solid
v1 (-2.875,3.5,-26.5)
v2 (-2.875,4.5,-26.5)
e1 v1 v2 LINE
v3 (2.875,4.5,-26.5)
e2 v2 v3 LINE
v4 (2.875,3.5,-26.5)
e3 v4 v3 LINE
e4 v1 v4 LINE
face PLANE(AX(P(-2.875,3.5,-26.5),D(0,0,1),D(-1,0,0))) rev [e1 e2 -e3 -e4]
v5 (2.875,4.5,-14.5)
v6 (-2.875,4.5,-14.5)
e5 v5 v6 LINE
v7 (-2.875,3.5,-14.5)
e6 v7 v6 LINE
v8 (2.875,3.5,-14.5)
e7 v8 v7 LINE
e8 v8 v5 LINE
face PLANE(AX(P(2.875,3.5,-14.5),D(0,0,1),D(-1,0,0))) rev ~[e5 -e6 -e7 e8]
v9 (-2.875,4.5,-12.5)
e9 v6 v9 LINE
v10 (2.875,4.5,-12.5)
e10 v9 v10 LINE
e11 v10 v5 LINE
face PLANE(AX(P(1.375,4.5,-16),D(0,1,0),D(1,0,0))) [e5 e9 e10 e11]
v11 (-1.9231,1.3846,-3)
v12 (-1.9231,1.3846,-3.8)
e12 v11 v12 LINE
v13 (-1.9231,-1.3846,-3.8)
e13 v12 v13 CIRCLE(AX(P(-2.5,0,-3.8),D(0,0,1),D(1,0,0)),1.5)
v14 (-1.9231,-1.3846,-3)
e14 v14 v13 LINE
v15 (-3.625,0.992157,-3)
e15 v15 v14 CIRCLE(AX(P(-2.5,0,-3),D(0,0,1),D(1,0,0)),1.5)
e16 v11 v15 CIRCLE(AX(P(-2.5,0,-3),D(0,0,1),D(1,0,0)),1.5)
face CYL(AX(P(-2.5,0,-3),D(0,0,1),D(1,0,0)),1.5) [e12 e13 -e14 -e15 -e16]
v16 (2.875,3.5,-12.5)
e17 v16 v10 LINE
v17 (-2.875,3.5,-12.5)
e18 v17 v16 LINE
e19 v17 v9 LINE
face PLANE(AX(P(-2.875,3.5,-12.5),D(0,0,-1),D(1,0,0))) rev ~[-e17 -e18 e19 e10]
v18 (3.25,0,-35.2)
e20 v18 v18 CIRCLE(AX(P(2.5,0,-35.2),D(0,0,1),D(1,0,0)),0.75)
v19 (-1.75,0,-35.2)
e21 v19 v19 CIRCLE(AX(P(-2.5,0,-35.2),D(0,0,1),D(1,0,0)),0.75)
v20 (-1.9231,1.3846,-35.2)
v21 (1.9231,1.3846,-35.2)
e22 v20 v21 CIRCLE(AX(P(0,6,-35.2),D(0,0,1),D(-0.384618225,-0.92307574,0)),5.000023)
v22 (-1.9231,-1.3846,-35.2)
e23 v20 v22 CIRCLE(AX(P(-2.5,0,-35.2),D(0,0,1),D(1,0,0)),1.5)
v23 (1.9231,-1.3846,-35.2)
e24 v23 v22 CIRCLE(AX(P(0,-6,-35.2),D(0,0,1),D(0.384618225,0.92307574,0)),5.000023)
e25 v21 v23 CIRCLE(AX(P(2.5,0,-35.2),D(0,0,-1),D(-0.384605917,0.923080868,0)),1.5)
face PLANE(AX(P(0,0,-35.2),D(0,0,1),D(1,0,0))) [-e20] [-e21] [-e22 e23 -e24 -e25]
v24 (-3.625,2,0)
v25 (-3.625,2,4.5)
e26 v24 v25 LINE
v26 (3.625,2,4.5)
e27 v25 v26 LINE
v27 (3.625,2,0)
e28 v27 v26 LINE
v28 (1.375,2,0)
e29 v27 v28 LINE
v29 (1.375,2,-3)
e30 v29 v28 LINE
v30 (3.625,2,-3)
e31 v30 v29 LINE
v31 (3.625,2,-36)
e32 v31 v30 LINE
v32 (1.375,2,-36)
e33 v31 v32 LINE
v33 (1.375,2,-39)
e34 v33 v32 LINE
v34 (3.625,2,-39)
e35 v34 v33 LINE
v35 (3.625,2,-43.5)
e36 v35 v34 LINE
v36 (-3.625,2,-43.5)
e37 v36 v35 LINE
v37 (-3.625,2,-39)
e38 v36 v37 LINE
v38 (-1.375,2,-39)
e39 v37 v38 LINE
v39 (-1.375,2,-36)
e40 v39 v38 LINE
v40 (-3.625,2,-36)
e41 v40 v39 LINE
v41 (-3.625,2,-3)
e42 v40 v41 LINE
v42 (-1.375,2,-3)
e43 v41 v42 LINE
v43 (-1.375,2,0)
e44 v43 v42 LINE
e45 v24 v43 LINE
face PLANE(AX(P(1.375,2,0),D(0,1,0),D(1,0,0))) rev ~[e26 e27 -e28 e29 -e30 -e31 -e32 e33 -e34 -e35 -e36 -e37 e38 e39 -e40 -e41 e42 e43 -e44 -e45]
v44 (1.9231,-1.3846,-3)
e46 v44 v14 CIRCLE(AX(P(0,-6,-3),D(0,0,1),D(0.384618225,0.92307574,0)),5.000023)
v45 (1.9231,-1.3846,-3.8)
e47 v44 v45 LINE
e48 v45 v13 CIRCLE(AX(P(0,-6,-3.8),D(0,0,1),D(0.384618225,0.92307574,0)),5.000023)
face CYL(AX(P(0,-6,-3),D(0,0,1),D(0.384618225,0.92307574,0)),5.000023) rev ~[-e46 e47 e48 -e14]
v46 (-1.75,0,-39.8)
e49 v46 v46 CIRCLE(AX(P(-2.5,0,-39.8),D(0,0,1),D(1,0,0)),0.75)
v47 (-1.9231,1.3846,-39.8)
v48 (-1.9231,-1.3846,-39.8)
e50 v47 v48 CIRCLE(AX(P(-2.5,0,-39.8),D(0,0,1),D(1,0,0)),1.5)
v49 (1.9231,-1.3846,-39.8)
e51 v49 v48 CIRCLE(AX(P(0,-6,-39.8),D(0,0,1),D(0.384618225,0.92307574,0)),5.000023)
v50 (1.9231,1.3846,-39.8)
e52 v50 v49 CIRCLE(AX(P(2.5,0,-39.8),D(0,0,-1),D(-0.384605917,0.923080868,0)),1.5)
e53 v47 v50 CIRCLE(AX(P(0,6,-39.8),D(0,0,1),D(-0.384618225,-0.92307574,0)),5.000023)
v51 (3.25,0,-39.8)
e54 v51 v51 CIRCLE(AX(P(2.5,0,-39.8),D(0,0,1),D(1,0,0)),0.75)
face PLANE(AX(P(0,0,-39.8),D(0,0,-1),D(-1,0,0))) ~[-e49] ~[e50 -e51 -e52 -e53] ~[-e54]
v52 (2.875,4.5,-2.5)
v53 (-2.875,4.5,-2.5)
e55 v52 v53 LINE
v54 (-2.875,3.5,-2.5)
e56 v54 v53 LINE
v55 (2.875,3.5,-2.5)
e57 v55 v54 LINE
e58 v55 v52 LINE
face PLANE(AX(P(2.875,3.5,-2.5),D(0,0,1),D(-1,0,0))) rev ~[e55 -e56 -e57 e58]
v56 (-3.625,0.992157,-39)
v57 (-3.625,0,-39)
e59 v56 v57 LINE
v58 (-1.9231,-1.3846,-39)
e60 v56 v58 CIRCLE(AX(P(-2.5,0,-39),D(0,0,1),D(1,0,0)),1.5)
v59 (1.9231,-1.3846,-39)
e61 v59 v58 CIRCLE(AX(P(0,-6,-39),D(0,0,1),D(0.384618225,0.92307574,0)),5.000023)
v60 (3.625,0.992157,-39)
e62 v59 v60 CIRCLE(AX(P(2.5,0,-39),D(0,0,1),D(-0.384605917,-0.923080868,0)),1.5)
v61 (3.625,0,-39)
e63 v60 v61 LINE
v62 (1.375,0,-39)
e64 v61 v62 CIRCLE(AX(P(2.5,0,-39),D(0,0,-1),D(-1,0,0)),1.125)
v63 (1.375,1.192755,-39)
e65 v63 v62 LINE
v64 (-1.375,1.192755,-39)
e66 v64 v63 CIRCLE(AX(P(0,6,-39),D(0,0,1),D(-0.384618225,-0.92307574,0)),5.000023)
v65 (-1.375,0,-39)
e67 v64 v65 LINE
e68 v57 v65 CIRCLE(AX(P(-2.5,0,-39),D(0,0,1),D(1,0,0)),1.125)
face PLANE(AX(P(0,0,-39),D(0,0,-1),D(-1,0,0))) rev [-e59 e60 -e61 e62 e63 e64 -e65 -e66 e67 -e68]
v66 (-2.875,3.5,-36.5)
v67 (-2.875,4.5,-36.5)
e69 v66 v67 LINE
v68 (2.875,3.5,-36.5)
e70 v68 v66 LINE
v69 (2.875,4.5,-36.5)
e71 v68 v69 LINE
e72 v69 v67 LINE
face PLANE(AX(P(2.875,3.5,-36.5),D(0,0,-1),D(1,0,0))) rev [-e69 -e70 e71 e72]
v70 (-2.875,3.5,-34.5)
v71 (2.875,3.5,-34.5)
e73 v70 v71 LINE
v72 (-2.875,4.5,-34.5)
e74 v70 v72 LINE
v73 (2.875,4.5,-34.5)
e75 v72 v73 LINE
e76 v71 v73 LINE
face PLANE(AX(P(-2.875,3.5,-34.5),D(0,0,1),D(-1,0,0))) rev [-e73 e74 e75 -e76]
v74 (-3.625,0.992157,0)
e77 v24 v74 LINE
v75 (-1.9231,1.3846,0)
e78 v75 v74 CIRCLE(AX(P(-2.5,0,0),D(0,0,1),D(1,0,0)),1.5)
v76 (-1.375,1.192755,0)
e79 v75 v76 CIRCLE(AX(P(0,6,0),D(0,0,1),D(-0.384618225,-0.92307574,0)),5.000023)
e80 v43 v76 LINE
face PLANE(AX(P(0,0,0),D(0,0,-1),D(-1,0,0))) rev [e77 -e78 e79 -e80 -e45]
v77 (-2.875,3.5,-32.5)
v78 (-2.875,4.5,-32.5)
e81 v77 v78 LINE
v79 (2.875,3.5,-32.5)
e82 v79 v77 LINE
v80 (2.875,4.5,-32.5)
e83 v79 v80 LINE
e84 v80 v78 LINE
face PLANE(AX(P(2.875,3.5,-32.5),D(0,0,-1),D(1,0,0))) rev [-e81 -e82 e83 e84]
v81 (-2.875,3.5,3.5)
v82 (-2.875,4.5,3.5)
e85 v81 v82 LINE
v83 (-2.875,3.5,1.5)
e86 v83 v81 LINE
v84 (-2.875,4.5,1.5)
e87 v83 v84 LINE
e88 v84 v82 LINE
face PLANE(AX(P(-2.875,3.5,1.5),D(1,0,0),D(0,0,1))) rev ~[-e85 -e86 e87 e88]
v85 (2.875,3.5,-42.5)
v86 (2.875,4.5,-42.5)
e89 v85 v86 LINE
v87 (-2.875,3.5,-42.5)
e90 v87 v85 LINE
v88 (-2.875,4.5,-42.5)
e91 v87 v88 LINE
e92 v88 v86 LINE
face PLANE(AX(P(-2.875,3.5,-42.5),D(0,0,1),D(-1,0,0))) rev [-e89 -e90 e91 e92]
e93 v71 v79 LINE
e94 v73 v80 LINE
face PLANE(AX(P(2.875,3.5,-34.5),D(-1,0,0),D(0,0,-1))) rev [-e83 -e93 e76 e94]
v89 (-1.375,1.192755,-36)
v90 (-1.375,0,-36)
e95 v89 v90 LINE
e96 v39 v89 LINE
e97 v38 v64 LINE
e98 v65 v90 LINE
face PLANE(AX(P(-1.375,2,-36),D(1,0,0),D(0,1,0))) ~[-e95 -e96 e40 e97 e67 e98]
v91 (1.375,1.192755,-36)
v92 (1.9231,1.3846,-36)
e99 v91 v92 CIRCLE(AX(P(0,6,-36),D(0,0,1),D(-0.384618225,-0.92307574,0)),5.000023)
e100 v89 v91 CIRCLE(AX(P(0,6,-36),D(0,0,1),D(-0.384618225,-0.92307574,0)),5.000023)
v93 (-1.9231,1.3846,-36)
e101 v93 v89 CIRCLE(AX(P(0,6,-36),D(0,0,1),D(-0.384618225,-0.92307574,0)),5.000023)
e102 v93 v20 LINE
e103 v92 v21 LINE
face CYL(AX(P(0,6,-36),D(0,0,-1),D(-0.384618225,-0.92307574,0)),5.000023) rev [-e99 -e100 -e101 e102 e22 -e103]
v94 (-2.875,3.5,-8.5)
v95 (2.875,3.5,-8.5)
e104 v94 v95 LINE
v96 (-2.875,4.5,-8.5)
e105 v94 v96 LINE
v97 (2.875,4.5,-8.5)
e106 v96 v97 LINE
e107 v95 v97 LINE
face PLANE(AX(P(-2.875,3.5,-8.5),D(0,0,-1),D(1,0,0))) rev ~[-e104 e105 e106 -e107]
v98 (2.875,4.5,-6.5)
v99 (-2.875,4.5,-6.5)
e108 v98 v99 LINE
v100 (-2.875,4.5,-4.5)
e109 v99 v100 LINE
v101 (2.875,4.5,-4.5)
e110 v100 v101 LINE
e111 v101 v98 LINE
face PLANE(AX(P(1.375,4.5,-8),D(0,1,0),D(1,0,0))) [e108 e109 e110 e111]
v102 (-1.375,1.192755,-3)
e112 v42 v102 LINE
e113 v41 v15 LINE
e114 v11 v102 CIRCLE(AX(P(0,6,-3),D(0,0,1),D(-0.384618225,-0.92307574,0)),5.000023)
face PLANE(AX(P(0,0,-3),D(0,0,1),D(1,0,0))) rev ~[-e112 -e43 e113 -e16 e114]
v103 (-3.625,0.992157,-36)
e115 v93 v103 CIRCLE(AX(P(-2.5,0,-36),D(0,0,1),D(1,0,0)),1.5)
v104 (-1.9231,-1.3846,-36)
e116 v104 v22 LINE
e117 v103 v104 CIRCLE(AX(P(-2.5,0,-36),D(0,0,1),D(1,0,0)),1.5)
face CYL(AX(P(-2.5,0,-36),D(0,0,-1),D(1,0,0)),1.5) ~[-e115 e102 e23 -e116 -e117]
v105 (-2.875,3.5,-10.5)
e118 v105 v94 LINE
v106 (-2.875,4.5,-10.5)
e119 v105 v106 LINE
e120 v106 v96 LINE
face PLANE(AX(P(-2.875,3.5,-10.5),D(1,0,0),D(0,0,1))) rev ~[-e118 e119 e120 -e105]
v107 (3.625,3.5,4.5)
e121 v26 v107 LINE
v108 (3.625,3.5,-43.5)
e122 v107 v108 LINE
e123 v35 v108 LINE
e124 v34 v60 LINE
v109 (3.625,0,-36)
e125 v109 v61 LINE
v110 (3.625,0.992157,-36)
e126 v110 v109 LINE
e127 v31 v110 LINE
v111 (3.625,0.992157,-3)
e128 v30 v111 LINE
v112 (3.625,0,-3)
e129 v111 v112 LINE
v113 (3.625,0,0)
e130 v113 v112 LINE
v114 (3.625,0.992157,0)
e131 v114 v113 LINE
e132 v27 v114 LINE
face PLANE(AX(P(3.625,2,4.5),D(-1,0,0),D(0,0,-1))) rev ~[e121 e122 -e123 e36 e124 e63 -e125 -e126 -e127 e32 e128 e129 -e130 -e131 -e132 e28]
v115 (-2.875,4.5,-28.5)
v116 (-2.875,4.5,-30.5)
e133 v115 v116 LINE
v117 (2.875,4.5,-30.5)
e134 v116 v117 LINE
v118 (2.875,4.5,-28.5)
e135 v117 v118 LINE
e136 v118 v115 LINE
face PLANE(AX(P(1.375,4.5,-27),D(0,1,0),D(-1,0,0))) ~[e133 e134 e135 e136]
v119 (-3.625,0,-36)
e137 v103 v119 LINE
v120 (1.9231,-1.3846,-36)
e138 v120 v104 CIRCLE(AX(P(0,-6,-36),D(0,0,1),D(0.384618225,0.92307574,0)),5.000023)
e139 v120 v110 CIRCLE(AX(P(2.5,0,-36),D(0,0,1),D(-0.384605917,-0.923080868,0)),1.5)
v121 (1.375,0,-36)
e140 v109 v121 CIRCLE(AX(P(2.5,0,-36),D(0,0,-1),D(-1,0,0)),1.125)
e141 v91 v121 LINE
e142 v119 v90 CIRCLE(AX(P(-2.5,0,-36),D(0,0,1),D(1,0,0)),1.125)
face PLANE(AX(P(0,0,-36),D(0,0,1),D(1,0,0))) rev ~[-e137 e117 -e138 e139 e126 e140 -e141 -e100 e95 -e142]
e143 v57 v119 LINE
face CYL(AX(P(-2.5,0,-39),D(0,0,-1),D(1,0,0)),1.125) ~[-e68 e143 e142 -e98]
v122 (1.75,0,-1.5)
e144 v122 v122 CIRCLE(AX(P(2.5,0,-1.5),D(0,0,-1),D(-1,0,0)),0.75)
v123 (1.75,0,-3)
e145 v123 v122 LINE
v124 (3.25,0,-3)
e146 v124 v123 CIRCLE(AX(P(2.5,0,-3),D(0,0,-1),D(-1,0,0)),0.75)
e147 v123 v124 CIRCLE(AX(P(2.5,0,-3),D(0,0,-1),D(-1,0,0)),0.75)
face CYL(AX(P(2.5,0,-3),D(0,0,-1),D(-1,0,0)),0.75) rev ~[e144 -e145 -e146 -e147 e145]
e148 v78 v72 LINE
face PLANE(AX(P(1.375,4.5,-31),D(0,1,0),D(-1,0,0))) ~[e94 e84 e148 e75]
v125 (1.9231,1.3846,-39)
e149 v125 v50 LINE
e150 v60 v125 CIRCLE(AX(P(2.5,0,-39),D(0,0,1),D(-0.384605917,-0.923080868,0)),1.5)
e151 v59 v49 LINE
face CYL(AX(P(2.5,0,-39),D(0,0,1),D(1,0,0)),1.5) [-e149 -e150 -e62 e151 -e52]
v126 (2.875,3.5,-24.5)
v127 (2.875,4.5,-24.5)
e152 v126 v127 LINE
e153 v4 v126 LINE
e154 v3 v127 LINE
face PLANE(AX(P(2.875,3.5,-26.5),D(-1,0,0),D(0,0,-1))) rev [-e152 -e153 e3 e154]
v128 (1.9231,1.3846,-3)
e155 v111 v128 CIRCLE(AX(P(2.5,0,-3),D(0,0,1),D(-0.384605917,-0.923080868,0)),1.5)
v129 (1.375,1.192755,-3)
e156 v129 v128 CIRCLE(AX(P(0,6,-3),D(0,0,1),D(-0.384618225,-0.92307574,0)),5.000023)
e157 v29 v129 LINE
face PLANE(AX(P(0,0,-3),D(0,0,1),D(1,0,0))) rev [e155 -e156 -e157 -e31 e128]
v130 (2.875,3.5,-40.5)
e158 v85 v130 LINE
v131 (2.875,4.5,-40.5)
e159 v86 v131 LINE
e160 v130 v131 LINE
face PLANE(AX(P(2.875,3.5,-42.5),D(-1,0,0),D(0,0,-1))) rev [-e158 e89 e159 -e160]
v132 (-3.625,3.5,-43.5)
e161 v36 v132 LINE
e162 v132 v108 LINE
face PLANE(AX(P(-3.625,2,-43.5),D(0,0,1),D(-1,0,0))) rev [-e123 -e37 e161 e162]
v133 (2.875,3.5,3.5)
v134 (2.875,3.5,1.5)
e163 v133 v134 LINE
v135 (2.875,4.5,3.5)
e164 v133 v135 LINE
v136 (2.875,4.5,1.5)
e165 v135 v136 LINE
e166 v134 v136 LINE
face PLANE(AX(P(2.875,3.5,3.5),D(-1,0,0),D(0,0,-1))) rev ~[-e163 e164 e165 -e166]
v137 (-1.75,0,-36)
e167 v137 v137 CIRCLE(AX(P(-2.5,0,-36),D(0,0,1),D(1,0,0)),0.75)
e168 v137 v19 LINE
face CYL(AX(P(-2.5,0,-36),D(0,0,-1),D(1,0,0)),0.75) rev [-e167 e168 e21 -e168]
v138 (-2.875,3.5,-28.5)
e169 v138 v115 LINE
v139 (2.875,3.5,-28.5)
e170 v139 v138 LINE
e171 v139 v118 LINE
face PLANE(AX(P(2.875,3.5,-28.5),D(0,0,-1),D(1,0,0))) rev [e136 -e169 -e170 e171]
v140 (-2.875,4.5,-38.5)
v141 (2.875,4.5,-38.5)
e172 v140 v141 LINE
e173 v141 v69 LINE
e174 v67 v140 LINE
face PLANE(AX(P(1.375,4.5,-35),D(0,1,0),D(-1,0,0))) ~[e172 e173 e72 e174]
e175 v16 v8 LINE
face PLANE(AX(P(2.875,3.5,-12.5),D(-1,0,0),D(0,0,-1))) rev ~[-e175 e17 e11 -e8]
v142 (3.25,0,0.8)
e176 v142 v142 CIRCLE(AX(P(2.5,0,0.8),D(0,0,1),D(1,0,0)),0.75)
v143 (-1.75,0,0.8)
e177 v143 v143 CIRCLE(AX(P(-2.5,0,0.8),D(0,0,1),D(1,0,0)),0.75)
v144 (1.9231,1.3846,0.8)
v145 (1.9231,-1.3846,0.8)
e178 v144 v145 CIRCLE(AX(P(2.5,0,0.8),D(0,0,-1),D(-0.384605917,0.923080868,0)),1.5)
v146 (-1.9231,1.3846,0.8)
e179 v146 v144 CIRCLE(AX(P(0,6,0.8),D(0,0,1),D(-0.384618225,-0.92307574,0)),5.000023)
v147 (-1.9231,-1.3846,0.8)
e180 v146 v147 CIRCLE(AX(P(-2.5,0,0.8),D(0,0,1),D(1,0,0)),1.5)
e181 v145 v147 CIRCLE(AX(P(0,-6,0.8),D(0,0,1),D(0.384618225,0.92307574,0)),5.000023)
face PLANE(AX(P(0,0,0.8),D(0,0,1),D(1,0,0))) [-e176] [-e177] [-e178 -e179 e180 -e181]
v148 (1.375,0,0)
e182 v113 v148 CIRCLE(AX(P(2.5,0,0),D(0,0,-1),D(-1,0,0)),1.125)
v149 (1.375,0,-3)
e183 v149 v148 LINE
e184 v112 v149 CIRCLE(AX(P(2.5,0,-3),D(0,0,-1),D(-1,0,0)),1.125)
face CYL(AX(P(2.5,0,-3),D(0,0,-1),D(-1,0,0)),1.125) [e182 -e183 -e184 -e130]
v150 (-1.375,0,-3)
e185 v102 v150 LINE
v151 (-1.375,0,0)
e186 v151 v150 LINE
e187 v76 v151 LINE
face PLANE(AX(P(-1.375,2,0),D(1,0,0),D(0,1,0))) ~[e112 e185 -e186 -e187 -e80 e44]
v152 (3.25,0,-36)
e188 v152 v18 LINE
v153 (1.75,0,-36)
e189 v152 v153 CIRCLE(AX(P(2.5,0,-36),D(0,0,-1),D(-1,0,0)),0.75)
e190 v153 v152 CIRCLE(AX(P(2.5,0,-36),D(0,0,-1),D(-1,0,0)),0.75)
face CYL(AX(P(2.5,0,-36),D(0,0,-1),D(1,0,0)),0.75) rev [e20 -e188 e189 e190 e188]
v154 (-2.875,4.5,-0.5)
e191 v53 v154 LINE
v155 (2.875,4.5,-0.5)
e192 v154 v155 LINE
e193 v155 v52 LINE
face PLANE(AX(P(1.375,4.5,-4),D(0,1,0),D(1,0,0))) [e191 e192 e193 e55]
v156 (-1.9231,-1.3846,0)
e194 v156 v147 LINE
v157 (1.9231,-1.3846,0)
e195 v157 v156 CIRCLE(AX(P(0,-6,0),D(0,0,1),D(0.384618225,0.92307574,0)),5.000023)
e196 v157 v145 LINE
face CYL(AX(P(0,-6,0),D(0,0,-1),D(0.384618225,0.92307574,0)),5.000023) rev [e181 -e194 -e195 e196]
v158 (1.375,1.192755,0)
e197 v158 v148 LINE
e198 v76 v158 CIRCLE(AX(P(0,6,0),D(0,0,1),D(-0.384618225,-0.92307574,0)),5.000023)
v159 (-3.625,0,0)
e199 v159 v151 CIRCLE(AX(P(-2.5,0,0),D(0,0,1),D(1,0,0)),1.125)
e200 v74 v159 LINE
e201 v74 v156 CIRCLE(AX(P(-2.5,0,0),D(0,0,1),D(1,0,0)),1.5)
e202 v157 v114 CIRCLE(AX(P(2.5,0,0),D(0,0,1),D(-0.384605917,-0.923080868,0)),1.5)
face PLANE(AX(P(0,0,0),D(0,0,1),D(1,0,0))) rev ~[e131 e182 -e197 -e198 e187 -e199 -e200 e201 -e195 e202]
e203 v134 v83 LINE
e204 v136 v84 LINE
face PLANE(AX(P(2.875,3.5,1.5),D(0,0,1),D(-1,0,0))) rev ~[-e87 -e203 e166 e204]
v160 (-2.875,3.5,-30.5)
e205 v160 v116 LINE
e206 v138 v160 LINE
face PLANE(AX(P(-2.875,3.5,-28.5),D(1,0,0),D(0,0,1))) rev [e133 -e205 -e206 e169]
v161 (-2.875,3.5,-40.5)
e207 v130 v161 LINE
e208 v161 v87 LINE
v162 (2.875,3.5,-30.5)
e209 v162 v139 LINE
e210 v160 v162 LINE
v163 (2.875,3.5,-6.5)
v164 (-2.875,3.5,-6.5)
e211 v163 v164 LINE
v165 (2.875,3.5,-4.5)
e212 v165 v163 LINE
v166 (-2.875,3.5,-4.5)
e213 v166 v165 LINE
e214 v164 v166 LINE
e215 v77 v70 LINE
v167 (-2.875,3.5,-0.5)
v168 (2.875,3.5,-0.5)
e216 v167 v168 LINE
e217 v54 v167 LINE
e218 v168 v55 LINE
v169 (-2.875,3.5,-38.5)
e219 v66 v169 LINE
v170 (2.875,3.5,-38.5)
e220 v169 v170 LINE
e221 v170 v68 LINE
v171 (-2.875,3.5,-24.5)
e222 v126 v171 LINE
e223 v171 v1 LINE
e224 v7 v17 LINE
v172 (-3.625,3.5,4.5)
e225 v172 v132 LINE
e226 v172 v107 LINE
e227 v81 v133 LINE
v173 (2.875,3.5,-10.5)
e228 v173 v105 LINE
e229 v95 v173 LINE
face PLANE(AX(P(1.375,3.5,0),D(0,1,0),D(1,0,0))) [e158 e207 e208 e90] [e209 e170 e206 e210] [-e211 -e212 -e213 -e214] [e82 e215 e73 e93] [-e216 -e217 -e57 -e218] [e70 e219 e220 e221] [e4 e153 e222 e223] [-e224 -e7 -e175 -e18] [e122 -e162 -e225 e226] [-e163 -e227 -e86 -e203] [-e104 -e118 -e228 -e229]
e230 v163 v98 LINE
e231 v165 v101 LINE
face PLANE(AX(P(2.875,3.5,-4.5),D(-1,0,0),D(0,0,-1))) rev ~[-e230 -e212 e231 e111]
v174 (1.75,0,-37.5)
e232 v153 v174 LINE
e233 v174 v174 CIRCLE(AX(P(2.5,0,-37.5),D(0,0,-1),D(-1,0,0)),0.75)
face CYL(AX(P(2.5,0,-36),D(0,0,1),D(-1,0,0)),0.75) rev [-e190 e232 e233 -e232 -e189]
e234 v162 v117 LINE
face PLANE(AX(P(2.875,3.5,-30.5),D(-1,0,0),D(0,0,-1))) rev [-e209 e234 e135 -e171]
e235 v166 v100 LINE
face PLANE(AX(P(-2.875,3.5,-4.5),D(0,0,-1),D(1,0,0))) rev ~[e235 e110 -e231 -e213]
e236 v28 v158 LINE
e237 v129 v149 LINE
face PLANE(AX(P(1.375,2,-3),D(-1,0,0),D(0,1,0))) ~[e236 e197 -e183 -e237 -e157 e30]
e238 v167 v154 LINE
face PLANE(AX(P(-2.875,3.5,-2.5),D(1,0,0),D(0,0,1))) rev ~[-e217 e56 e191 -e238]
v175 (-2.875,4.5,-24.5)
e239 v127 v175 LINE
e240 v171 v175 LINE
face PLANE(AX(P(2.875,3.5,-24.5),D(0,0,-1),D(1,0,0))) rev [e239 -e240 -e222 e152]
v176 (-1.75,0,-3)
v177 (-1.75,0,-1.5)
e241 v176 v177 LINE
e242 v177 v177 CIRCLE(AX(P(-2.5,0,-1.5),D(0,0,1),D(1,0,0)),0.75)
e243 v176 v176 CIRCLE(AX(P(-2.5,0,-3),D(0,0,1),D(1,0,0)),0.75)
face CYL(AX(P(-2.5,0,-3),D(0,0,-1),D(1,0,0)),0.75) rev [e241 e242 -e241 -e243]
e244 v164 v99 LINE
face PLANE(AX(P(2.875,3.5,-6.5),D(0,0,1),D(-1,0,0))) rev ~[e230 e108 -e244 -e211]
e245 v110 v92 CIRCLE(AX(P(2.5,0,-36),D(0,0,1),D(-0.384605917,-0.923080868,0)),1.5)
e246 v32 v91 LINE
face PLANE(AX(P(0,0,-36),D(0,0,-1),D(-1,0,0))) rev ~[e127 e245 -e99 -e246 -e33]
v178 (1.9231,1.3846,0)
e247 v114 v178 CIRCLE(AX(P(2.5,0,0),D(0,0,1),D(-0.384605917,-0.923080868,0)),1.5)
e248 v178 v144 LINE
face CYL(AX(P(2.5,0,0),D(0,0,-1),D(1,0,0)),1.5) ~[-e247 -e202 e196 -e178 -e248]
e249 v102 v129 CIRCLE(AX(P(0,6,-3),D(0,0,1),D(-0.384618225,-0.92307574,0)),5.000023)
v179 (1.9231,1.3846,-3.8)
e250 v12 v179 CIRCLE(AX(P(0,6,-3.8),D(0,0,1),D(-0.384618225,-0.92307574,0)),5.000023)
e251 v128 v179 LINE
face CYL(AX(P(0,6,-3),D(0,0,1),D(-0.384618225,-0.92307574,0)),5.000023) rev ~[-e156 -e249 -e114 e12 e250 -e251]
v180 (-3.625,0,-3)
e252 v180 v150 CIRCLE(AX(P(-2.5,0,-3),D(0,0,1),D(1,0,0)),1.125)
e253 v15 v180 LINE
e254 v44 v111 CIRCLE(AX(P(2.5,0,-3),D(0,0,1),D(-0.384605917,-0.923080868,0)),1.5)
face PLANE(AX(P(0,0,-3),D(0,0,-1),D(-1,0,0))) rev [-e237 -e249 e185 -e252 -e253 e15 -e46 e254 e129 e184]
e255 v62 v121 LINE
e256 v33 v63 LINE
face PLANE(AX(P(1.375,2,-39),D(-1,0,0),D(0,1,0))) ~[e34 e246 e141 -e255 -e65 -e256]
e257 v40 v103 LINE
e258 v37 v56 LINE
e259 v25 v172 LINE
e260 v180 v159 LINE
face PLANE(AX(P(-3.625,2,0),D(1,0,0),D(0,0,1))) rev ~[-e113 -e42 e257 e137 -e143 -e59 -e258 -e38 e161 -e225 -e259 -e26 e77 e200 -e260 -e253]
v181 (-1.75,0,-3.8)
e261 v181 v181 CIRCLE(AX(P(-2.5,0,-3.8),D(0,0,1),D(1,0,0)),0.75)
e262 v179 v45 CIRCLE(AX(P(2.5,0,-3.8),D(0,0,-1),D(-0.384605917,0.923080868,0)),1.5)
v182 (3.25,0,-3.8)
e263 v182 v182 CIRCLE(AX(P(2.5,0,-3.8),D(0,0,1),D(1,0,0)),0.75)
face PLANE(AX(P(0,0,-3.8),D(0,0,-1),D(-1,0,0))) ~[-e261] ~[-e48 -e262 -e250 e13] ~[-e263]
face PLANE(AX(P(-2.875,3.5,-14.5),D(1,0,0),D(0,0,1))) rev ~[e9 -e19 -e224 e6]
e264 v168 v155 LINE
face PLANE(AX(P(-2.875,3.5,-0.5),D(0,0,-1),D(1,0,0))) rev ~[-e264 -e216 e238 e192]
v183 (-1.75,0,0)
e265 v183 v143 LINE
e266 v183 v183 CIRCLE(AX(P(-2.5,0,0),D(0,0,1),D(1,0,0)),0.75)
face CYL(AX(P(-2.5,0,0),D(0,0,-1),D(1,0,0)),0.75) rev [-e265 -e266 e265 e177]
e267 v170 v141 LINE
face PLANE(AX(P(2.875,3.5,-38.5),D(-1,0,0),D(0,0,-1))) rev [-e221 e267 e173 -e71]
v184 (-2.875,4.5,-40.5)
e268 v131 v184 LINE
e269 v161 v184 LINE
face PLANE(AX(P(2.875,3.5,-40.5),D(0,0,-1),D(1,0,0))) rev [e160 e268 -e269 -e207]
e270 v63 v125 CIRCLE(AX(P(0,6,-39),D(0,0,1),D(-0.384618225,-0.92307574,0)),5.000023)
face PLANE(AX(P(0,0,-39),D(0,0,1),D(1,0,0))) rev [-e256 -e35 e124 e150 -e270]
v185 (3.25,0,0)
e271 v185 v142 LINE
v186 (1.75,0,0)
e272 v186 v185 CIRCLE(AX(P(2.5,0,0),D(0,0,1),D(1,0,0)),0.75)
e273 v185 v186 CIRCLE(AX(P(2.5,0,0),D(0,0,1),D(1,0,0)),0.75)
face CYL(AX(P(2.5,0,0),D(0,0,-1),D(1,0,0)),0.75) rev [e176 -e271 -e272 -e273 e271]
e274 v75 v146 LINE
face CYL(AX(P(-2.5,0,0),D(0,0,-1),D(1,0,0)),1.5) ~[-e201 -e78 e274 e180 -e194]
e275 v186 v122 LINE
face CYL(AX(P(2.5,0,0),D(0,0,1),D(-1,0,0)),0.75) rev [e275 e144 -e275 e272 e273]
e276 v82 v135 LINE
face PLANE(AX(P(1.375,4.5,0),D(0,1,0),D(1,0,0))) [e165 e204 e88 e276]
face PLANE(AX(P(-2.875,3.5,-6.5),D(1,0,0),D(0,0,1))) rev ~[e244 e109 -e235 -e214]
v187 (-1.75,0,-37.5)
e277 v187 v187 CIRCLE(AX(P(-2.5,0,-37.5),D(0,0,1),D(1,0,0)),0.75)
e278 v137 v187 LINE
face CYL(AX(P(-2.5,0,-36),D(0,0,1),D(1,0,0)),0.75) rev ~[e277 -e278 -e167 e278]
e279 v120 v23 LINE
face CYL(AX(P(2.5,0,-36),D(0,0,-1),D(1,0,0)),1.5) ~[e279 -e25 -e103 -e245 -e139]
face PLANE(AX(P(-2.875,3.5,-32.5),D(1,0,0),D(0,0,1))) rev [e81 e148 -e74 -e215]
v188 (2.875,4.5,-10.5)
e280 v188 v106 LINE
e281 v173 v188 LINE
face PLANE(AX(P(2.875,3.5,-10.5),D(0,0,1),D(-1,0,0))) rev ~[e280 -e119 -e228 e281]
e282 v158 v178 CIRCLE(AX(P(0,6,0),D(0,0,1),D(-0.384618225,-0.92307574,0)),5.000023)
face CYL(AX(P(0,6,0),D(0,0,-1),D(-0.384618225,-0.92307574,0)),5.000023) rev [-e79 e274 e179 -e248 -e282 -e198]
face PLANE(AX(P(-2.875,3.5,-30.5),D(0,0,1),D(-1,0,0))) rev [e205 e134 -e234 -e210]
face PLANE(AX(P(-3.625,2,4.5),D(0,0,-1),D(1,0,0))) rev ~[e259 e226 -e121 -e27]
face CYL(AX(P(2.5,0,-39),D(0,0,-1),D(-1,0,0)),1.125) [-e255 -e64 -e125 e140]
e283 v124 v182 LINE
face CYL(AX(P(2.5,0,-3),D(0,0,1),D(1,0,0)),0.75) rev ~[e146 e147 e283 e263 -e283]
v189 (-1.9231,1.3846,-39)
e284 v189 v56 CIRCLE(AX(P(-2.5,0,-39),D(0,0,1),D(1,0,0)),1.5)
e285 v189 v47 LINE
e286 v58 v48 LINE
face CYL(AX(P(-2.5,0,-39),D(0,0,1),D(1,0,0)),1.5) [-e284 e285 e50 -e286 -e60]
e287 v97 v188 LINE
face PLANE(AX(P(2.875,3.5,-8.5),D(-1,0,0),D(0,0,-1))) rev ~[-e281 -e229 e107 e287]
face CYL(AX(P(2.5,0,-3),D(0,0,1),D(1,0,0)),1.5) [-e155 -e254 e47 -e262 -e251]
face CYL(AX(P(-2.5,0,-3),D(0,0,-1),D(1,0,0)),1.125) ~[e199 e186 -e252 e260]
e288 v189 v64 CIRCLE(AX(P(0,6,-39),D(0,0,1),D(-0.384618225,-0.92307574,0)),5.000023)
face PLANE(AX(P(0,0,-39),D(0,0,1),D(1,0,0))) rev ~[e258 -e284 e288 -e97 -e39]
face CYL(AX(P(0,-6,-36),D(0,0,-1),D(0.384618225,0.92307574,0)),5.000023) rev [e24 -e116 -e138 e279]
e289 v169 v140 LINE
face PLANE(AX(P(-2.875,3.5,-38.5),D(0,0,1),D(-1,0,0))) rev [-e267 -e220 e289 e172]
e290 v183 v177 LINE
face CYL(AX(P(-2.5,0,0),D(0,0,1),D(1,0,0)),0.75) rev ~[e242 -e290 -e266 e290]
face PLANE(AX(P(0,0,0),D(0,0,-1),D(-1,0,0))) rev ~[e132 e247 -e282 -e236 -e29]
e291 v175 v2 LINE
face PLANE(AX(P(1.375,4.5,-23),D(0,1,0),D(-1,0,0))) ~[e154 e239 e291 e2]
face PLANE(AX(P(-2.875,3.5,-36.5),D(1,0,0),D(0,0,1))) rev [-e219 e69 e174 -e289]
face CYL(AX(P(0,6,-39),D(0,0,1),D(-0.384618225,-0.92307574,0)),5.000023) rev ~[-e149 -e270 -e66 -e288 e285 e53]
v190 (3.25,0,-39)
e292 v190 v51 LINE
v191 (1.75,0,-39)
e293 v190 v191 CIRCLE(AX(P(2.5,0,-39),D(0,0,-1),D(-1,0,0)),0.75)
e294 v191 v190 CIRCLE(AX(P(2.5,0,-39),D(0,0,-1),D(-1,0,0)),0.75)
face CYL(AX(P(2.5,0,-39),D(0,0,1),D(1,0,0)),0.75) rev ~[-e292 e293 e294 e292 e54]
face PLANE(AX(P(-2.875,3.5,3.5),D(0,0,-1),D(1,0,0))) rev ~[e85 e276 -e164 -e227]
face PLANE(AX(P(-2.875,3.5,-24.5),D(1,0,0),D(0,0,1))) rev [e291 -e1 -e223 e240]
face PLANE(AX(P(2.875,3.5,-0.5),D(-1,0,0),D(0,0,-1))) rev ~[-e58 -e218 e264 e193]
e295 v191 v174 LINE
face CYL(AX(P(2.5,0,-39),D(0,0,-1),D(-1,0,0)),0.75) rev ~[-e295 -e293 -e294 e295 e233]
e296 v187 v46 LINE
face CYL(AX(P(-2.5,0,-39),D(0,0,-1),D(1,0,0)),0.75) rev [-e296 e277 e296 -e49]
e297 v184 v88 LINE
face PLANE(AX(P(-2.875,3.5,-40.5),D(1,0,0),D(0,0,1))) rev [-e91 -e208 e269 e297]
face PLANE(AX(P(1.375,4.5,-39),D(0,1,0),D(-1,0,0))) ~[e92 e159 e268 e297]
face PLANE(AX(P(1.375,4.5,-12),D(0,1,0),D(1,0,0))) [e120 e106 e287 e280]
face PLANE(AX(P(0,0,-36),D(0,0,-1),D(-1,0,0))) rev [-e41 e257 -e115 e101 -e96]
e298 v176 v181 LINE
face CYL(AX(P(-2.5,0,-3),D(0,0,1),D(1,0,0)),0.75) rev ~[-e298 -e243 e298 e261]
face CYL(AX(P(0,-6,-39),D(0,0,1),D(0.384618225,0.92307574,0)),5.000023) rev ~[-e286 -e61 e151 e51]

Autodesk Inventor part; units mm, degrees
ref_plane "YZ Plane" through (0, 0, 0) normal (1, 0, 0) x (0, 1, 0)
sketch "Sketch2" plane through (0, 0, 0) normal (0, 0, 1) x (1, 0, 0)
  circle A0 centre (2.5, 0) radius 1.5
  circle A1 centre (-2.5, 0) radius 1.5
  arc A2 (-1.9231, 1.3846) -> (1.9231, 1.3846) centre (0, 6) ccw
  arc A3 (1.9231, -1.3846) -> (-1.9231, -1.3846) centre (0, -6) ccw
  circle A4 centre (2.5, 0) radius 0.75
  circle A5 centre (-2.5, 0) radius 0.75
  point P0 (0, 0)
  dimension "d0" = 3
  dimension "d1" = 3
  dimension "d2" = 6
  dimension "d3" = 6
  dimension "d4" = 2.5
  dimension "d5" = 2.5
  dimension "d6" = 1.5
  dimension "d7" = 1.5
extrude "Extrusion2" add sketch "Sketch2" along normal blind 0.8
sketch "Sketch3" plane through (0, 0, 0) normal (0, 0, -1) x (-1, 0, 0)
  arc A0 (1.9231, -1.3846) -> (-1.9231, -1.3846) centre (0, -6) ccw projected
  arc A1 (1.9231, -1.3846) -> (1.9231, 1.3846) centre (2.5, 0) ccw projected
  arc A2 (-1.9231, 1.3846) -> (1.9231, 1.3846) centre (0, 6) ccw projected
  arc A3 (-1.9231, 1.3846) -> (-1.9231, -1.3846) centre (-2.5, 0) ccw projected
  circle A4 centre (-2.5, 0) radius 0.75 projected
  circle A5 centre (2.5, 0) radius 0.75 projected
  circle A6 centre (-2.5, 0) radius 1.125
  line L0 (-3.625, 2) -> (-1.375, 2)
  line L1 (-1.375, 2) -> (-1.375, 0)
  line L2 (-3.625, 0) -> (-3.625, 2)
  line L3 (0, -8.4) -> (0, 8.4) projected
  point P0 (0, 0)
  point P1 (-3.4922, 1.125)
  point P2 (-3.625, 0.9922)
  point P3 (-1.375, 1.1928)
  dimension "d12" = 2.25
  dimension "d16" = 1.5
  dimension "d20" = 2
extrude "Extrusion3" add sketch "Sketch3" along normal blind 1.5 contours L2 L0 L1 A2 A3 | A3 A2 L1 A6 L2 | A6
mirror "Mirror1" about plane through (0, 0, 0) normal (1, 0, 0) of "Extrusion3"
ref_plane "Work Plane1" through (-2.5, 0, -1.5) normal (0, 0, -1) x (-1, 0, 0)
mirror "Mirror2" about plane through (-2.5, 0, -1.5) normal (0, 0, -1) of "Extrusion3", "Mirror1", "Extrusion2"
sketch "Sketch4" plane through (1.375, 2, 0) normal (0, 1, 0) x (1, 0, 0)
  line L0 (-5, -4.5) -> (2.25, -4.5)
  line L1 (2.25, -4.5) -> (2.25, 1.5)
  line L2 (-5, 1.5) -> (-5, -4.5)
  line L3 (-2.75, 0) -> (-5, 0) projected
  line L4 (-2.75, 0) -> (-2.75, 3) projected
  line L5 (-2.75, 3) -> (-5, 3) projected
  line L6 (-5, 0) -> (-5, 3) projected
  line L7 (0, 0) -> (2.25, 0) projected
  line L8 (2.25, 0) -> (2.25, 3) projected
  line L9 (0, 3) -> (2.25, 3) projected
  line L10 (0, 0) -> (0, 3) projected
  line L11 (-5, 0) -> (-5, 3) projected
  line L12 (2.25, 0) -> (2.25, 3) projected
  line L13 (2.25, 1.5) -> (-5, 1.5)
  line L14 (2.25, 1.5) -> (-5, 1.5)
  line L15 (-5, 1.5) -> (-5, 19.5)
  line L16 (-5, 19.5) -> (2.25, 19.5)
  line L17 (2.25, 19.5) -> (2.25, 1.5)
  point P0 (-1.375, 0)
  point P1 (2.25, 1.5)
  point P2 (2.25, 3)
  dimension "d22" = 18
  dimension "d23" = 6
extrude "Extrusion4" add sketch "Sketch4" along normal blind 1.5
sketch "Sketch5" plane through (1.375, 3.5, 0) normal (0, 1, 0) x (1, 0, 0)
  line L0 (1.5, -1.5) -> (-4.25, -1.5)
  line L1 (-4.25, -1.5) -> (-4.25, -3.5)
  line L2 (-4.25, -3.5) -> (1.5, -3.5)
  line L3 (1.5, -3.5) -> (1.5, -1.5)
  line L4 (-5, -4.5) -> (2.25, -4.5) projected
  line L5 (2.25, -4.5) -> (2.25, 19.5) projected
  line L6 (2.25, 19.5) -> (-5, 19.5) projected
  line L7 (-5, 19.5) -> (-5, -4.5) projected
  point P0 (-1.375, 0)
  dimension "d26" = 5.75
  dimension "d27" = 7.25
  dimension "d28" = 2
  dimension "d29" = 0.75
  dimension "d30" = 1
extrude "Extrusion5" add sketch "Sketch5" along normal blind 1 contours L3 L2 L1 L0
pattern_linear "Rectangular Pattern1" count 5 spacing 4 along (0, 0, -1) of "Extrusion5"
ref_plane "Work Plane2" through (3.625, 2, -19.5) normal (0, 0, -1) x (-1, 0, 0)
mirror "Mirror3" about plane through (3.625, 2, -19.5) normal (0, 0, -1) of "Extrusion4", "Extrusion3", "Mirror1", "Extrusion2", "Mirror2", "Extrusion5", "Rectangular Pattern1"
equation "\"d1\" = d0"
equation "\"d2\" = 2 * d0"
equation "\"d3\" = d2"
equation "\"d4\" = d5"
equation "\"d7\" = d6"
equation "\"d12\" = d16 + 0.5 * d13"
equation "\"d29\" = -0.5 * d26 + 0.5 * d27"
equation "\"d13\" = 1.5"
properties part number "McCrea_CHAIN_INK_WALLE"
